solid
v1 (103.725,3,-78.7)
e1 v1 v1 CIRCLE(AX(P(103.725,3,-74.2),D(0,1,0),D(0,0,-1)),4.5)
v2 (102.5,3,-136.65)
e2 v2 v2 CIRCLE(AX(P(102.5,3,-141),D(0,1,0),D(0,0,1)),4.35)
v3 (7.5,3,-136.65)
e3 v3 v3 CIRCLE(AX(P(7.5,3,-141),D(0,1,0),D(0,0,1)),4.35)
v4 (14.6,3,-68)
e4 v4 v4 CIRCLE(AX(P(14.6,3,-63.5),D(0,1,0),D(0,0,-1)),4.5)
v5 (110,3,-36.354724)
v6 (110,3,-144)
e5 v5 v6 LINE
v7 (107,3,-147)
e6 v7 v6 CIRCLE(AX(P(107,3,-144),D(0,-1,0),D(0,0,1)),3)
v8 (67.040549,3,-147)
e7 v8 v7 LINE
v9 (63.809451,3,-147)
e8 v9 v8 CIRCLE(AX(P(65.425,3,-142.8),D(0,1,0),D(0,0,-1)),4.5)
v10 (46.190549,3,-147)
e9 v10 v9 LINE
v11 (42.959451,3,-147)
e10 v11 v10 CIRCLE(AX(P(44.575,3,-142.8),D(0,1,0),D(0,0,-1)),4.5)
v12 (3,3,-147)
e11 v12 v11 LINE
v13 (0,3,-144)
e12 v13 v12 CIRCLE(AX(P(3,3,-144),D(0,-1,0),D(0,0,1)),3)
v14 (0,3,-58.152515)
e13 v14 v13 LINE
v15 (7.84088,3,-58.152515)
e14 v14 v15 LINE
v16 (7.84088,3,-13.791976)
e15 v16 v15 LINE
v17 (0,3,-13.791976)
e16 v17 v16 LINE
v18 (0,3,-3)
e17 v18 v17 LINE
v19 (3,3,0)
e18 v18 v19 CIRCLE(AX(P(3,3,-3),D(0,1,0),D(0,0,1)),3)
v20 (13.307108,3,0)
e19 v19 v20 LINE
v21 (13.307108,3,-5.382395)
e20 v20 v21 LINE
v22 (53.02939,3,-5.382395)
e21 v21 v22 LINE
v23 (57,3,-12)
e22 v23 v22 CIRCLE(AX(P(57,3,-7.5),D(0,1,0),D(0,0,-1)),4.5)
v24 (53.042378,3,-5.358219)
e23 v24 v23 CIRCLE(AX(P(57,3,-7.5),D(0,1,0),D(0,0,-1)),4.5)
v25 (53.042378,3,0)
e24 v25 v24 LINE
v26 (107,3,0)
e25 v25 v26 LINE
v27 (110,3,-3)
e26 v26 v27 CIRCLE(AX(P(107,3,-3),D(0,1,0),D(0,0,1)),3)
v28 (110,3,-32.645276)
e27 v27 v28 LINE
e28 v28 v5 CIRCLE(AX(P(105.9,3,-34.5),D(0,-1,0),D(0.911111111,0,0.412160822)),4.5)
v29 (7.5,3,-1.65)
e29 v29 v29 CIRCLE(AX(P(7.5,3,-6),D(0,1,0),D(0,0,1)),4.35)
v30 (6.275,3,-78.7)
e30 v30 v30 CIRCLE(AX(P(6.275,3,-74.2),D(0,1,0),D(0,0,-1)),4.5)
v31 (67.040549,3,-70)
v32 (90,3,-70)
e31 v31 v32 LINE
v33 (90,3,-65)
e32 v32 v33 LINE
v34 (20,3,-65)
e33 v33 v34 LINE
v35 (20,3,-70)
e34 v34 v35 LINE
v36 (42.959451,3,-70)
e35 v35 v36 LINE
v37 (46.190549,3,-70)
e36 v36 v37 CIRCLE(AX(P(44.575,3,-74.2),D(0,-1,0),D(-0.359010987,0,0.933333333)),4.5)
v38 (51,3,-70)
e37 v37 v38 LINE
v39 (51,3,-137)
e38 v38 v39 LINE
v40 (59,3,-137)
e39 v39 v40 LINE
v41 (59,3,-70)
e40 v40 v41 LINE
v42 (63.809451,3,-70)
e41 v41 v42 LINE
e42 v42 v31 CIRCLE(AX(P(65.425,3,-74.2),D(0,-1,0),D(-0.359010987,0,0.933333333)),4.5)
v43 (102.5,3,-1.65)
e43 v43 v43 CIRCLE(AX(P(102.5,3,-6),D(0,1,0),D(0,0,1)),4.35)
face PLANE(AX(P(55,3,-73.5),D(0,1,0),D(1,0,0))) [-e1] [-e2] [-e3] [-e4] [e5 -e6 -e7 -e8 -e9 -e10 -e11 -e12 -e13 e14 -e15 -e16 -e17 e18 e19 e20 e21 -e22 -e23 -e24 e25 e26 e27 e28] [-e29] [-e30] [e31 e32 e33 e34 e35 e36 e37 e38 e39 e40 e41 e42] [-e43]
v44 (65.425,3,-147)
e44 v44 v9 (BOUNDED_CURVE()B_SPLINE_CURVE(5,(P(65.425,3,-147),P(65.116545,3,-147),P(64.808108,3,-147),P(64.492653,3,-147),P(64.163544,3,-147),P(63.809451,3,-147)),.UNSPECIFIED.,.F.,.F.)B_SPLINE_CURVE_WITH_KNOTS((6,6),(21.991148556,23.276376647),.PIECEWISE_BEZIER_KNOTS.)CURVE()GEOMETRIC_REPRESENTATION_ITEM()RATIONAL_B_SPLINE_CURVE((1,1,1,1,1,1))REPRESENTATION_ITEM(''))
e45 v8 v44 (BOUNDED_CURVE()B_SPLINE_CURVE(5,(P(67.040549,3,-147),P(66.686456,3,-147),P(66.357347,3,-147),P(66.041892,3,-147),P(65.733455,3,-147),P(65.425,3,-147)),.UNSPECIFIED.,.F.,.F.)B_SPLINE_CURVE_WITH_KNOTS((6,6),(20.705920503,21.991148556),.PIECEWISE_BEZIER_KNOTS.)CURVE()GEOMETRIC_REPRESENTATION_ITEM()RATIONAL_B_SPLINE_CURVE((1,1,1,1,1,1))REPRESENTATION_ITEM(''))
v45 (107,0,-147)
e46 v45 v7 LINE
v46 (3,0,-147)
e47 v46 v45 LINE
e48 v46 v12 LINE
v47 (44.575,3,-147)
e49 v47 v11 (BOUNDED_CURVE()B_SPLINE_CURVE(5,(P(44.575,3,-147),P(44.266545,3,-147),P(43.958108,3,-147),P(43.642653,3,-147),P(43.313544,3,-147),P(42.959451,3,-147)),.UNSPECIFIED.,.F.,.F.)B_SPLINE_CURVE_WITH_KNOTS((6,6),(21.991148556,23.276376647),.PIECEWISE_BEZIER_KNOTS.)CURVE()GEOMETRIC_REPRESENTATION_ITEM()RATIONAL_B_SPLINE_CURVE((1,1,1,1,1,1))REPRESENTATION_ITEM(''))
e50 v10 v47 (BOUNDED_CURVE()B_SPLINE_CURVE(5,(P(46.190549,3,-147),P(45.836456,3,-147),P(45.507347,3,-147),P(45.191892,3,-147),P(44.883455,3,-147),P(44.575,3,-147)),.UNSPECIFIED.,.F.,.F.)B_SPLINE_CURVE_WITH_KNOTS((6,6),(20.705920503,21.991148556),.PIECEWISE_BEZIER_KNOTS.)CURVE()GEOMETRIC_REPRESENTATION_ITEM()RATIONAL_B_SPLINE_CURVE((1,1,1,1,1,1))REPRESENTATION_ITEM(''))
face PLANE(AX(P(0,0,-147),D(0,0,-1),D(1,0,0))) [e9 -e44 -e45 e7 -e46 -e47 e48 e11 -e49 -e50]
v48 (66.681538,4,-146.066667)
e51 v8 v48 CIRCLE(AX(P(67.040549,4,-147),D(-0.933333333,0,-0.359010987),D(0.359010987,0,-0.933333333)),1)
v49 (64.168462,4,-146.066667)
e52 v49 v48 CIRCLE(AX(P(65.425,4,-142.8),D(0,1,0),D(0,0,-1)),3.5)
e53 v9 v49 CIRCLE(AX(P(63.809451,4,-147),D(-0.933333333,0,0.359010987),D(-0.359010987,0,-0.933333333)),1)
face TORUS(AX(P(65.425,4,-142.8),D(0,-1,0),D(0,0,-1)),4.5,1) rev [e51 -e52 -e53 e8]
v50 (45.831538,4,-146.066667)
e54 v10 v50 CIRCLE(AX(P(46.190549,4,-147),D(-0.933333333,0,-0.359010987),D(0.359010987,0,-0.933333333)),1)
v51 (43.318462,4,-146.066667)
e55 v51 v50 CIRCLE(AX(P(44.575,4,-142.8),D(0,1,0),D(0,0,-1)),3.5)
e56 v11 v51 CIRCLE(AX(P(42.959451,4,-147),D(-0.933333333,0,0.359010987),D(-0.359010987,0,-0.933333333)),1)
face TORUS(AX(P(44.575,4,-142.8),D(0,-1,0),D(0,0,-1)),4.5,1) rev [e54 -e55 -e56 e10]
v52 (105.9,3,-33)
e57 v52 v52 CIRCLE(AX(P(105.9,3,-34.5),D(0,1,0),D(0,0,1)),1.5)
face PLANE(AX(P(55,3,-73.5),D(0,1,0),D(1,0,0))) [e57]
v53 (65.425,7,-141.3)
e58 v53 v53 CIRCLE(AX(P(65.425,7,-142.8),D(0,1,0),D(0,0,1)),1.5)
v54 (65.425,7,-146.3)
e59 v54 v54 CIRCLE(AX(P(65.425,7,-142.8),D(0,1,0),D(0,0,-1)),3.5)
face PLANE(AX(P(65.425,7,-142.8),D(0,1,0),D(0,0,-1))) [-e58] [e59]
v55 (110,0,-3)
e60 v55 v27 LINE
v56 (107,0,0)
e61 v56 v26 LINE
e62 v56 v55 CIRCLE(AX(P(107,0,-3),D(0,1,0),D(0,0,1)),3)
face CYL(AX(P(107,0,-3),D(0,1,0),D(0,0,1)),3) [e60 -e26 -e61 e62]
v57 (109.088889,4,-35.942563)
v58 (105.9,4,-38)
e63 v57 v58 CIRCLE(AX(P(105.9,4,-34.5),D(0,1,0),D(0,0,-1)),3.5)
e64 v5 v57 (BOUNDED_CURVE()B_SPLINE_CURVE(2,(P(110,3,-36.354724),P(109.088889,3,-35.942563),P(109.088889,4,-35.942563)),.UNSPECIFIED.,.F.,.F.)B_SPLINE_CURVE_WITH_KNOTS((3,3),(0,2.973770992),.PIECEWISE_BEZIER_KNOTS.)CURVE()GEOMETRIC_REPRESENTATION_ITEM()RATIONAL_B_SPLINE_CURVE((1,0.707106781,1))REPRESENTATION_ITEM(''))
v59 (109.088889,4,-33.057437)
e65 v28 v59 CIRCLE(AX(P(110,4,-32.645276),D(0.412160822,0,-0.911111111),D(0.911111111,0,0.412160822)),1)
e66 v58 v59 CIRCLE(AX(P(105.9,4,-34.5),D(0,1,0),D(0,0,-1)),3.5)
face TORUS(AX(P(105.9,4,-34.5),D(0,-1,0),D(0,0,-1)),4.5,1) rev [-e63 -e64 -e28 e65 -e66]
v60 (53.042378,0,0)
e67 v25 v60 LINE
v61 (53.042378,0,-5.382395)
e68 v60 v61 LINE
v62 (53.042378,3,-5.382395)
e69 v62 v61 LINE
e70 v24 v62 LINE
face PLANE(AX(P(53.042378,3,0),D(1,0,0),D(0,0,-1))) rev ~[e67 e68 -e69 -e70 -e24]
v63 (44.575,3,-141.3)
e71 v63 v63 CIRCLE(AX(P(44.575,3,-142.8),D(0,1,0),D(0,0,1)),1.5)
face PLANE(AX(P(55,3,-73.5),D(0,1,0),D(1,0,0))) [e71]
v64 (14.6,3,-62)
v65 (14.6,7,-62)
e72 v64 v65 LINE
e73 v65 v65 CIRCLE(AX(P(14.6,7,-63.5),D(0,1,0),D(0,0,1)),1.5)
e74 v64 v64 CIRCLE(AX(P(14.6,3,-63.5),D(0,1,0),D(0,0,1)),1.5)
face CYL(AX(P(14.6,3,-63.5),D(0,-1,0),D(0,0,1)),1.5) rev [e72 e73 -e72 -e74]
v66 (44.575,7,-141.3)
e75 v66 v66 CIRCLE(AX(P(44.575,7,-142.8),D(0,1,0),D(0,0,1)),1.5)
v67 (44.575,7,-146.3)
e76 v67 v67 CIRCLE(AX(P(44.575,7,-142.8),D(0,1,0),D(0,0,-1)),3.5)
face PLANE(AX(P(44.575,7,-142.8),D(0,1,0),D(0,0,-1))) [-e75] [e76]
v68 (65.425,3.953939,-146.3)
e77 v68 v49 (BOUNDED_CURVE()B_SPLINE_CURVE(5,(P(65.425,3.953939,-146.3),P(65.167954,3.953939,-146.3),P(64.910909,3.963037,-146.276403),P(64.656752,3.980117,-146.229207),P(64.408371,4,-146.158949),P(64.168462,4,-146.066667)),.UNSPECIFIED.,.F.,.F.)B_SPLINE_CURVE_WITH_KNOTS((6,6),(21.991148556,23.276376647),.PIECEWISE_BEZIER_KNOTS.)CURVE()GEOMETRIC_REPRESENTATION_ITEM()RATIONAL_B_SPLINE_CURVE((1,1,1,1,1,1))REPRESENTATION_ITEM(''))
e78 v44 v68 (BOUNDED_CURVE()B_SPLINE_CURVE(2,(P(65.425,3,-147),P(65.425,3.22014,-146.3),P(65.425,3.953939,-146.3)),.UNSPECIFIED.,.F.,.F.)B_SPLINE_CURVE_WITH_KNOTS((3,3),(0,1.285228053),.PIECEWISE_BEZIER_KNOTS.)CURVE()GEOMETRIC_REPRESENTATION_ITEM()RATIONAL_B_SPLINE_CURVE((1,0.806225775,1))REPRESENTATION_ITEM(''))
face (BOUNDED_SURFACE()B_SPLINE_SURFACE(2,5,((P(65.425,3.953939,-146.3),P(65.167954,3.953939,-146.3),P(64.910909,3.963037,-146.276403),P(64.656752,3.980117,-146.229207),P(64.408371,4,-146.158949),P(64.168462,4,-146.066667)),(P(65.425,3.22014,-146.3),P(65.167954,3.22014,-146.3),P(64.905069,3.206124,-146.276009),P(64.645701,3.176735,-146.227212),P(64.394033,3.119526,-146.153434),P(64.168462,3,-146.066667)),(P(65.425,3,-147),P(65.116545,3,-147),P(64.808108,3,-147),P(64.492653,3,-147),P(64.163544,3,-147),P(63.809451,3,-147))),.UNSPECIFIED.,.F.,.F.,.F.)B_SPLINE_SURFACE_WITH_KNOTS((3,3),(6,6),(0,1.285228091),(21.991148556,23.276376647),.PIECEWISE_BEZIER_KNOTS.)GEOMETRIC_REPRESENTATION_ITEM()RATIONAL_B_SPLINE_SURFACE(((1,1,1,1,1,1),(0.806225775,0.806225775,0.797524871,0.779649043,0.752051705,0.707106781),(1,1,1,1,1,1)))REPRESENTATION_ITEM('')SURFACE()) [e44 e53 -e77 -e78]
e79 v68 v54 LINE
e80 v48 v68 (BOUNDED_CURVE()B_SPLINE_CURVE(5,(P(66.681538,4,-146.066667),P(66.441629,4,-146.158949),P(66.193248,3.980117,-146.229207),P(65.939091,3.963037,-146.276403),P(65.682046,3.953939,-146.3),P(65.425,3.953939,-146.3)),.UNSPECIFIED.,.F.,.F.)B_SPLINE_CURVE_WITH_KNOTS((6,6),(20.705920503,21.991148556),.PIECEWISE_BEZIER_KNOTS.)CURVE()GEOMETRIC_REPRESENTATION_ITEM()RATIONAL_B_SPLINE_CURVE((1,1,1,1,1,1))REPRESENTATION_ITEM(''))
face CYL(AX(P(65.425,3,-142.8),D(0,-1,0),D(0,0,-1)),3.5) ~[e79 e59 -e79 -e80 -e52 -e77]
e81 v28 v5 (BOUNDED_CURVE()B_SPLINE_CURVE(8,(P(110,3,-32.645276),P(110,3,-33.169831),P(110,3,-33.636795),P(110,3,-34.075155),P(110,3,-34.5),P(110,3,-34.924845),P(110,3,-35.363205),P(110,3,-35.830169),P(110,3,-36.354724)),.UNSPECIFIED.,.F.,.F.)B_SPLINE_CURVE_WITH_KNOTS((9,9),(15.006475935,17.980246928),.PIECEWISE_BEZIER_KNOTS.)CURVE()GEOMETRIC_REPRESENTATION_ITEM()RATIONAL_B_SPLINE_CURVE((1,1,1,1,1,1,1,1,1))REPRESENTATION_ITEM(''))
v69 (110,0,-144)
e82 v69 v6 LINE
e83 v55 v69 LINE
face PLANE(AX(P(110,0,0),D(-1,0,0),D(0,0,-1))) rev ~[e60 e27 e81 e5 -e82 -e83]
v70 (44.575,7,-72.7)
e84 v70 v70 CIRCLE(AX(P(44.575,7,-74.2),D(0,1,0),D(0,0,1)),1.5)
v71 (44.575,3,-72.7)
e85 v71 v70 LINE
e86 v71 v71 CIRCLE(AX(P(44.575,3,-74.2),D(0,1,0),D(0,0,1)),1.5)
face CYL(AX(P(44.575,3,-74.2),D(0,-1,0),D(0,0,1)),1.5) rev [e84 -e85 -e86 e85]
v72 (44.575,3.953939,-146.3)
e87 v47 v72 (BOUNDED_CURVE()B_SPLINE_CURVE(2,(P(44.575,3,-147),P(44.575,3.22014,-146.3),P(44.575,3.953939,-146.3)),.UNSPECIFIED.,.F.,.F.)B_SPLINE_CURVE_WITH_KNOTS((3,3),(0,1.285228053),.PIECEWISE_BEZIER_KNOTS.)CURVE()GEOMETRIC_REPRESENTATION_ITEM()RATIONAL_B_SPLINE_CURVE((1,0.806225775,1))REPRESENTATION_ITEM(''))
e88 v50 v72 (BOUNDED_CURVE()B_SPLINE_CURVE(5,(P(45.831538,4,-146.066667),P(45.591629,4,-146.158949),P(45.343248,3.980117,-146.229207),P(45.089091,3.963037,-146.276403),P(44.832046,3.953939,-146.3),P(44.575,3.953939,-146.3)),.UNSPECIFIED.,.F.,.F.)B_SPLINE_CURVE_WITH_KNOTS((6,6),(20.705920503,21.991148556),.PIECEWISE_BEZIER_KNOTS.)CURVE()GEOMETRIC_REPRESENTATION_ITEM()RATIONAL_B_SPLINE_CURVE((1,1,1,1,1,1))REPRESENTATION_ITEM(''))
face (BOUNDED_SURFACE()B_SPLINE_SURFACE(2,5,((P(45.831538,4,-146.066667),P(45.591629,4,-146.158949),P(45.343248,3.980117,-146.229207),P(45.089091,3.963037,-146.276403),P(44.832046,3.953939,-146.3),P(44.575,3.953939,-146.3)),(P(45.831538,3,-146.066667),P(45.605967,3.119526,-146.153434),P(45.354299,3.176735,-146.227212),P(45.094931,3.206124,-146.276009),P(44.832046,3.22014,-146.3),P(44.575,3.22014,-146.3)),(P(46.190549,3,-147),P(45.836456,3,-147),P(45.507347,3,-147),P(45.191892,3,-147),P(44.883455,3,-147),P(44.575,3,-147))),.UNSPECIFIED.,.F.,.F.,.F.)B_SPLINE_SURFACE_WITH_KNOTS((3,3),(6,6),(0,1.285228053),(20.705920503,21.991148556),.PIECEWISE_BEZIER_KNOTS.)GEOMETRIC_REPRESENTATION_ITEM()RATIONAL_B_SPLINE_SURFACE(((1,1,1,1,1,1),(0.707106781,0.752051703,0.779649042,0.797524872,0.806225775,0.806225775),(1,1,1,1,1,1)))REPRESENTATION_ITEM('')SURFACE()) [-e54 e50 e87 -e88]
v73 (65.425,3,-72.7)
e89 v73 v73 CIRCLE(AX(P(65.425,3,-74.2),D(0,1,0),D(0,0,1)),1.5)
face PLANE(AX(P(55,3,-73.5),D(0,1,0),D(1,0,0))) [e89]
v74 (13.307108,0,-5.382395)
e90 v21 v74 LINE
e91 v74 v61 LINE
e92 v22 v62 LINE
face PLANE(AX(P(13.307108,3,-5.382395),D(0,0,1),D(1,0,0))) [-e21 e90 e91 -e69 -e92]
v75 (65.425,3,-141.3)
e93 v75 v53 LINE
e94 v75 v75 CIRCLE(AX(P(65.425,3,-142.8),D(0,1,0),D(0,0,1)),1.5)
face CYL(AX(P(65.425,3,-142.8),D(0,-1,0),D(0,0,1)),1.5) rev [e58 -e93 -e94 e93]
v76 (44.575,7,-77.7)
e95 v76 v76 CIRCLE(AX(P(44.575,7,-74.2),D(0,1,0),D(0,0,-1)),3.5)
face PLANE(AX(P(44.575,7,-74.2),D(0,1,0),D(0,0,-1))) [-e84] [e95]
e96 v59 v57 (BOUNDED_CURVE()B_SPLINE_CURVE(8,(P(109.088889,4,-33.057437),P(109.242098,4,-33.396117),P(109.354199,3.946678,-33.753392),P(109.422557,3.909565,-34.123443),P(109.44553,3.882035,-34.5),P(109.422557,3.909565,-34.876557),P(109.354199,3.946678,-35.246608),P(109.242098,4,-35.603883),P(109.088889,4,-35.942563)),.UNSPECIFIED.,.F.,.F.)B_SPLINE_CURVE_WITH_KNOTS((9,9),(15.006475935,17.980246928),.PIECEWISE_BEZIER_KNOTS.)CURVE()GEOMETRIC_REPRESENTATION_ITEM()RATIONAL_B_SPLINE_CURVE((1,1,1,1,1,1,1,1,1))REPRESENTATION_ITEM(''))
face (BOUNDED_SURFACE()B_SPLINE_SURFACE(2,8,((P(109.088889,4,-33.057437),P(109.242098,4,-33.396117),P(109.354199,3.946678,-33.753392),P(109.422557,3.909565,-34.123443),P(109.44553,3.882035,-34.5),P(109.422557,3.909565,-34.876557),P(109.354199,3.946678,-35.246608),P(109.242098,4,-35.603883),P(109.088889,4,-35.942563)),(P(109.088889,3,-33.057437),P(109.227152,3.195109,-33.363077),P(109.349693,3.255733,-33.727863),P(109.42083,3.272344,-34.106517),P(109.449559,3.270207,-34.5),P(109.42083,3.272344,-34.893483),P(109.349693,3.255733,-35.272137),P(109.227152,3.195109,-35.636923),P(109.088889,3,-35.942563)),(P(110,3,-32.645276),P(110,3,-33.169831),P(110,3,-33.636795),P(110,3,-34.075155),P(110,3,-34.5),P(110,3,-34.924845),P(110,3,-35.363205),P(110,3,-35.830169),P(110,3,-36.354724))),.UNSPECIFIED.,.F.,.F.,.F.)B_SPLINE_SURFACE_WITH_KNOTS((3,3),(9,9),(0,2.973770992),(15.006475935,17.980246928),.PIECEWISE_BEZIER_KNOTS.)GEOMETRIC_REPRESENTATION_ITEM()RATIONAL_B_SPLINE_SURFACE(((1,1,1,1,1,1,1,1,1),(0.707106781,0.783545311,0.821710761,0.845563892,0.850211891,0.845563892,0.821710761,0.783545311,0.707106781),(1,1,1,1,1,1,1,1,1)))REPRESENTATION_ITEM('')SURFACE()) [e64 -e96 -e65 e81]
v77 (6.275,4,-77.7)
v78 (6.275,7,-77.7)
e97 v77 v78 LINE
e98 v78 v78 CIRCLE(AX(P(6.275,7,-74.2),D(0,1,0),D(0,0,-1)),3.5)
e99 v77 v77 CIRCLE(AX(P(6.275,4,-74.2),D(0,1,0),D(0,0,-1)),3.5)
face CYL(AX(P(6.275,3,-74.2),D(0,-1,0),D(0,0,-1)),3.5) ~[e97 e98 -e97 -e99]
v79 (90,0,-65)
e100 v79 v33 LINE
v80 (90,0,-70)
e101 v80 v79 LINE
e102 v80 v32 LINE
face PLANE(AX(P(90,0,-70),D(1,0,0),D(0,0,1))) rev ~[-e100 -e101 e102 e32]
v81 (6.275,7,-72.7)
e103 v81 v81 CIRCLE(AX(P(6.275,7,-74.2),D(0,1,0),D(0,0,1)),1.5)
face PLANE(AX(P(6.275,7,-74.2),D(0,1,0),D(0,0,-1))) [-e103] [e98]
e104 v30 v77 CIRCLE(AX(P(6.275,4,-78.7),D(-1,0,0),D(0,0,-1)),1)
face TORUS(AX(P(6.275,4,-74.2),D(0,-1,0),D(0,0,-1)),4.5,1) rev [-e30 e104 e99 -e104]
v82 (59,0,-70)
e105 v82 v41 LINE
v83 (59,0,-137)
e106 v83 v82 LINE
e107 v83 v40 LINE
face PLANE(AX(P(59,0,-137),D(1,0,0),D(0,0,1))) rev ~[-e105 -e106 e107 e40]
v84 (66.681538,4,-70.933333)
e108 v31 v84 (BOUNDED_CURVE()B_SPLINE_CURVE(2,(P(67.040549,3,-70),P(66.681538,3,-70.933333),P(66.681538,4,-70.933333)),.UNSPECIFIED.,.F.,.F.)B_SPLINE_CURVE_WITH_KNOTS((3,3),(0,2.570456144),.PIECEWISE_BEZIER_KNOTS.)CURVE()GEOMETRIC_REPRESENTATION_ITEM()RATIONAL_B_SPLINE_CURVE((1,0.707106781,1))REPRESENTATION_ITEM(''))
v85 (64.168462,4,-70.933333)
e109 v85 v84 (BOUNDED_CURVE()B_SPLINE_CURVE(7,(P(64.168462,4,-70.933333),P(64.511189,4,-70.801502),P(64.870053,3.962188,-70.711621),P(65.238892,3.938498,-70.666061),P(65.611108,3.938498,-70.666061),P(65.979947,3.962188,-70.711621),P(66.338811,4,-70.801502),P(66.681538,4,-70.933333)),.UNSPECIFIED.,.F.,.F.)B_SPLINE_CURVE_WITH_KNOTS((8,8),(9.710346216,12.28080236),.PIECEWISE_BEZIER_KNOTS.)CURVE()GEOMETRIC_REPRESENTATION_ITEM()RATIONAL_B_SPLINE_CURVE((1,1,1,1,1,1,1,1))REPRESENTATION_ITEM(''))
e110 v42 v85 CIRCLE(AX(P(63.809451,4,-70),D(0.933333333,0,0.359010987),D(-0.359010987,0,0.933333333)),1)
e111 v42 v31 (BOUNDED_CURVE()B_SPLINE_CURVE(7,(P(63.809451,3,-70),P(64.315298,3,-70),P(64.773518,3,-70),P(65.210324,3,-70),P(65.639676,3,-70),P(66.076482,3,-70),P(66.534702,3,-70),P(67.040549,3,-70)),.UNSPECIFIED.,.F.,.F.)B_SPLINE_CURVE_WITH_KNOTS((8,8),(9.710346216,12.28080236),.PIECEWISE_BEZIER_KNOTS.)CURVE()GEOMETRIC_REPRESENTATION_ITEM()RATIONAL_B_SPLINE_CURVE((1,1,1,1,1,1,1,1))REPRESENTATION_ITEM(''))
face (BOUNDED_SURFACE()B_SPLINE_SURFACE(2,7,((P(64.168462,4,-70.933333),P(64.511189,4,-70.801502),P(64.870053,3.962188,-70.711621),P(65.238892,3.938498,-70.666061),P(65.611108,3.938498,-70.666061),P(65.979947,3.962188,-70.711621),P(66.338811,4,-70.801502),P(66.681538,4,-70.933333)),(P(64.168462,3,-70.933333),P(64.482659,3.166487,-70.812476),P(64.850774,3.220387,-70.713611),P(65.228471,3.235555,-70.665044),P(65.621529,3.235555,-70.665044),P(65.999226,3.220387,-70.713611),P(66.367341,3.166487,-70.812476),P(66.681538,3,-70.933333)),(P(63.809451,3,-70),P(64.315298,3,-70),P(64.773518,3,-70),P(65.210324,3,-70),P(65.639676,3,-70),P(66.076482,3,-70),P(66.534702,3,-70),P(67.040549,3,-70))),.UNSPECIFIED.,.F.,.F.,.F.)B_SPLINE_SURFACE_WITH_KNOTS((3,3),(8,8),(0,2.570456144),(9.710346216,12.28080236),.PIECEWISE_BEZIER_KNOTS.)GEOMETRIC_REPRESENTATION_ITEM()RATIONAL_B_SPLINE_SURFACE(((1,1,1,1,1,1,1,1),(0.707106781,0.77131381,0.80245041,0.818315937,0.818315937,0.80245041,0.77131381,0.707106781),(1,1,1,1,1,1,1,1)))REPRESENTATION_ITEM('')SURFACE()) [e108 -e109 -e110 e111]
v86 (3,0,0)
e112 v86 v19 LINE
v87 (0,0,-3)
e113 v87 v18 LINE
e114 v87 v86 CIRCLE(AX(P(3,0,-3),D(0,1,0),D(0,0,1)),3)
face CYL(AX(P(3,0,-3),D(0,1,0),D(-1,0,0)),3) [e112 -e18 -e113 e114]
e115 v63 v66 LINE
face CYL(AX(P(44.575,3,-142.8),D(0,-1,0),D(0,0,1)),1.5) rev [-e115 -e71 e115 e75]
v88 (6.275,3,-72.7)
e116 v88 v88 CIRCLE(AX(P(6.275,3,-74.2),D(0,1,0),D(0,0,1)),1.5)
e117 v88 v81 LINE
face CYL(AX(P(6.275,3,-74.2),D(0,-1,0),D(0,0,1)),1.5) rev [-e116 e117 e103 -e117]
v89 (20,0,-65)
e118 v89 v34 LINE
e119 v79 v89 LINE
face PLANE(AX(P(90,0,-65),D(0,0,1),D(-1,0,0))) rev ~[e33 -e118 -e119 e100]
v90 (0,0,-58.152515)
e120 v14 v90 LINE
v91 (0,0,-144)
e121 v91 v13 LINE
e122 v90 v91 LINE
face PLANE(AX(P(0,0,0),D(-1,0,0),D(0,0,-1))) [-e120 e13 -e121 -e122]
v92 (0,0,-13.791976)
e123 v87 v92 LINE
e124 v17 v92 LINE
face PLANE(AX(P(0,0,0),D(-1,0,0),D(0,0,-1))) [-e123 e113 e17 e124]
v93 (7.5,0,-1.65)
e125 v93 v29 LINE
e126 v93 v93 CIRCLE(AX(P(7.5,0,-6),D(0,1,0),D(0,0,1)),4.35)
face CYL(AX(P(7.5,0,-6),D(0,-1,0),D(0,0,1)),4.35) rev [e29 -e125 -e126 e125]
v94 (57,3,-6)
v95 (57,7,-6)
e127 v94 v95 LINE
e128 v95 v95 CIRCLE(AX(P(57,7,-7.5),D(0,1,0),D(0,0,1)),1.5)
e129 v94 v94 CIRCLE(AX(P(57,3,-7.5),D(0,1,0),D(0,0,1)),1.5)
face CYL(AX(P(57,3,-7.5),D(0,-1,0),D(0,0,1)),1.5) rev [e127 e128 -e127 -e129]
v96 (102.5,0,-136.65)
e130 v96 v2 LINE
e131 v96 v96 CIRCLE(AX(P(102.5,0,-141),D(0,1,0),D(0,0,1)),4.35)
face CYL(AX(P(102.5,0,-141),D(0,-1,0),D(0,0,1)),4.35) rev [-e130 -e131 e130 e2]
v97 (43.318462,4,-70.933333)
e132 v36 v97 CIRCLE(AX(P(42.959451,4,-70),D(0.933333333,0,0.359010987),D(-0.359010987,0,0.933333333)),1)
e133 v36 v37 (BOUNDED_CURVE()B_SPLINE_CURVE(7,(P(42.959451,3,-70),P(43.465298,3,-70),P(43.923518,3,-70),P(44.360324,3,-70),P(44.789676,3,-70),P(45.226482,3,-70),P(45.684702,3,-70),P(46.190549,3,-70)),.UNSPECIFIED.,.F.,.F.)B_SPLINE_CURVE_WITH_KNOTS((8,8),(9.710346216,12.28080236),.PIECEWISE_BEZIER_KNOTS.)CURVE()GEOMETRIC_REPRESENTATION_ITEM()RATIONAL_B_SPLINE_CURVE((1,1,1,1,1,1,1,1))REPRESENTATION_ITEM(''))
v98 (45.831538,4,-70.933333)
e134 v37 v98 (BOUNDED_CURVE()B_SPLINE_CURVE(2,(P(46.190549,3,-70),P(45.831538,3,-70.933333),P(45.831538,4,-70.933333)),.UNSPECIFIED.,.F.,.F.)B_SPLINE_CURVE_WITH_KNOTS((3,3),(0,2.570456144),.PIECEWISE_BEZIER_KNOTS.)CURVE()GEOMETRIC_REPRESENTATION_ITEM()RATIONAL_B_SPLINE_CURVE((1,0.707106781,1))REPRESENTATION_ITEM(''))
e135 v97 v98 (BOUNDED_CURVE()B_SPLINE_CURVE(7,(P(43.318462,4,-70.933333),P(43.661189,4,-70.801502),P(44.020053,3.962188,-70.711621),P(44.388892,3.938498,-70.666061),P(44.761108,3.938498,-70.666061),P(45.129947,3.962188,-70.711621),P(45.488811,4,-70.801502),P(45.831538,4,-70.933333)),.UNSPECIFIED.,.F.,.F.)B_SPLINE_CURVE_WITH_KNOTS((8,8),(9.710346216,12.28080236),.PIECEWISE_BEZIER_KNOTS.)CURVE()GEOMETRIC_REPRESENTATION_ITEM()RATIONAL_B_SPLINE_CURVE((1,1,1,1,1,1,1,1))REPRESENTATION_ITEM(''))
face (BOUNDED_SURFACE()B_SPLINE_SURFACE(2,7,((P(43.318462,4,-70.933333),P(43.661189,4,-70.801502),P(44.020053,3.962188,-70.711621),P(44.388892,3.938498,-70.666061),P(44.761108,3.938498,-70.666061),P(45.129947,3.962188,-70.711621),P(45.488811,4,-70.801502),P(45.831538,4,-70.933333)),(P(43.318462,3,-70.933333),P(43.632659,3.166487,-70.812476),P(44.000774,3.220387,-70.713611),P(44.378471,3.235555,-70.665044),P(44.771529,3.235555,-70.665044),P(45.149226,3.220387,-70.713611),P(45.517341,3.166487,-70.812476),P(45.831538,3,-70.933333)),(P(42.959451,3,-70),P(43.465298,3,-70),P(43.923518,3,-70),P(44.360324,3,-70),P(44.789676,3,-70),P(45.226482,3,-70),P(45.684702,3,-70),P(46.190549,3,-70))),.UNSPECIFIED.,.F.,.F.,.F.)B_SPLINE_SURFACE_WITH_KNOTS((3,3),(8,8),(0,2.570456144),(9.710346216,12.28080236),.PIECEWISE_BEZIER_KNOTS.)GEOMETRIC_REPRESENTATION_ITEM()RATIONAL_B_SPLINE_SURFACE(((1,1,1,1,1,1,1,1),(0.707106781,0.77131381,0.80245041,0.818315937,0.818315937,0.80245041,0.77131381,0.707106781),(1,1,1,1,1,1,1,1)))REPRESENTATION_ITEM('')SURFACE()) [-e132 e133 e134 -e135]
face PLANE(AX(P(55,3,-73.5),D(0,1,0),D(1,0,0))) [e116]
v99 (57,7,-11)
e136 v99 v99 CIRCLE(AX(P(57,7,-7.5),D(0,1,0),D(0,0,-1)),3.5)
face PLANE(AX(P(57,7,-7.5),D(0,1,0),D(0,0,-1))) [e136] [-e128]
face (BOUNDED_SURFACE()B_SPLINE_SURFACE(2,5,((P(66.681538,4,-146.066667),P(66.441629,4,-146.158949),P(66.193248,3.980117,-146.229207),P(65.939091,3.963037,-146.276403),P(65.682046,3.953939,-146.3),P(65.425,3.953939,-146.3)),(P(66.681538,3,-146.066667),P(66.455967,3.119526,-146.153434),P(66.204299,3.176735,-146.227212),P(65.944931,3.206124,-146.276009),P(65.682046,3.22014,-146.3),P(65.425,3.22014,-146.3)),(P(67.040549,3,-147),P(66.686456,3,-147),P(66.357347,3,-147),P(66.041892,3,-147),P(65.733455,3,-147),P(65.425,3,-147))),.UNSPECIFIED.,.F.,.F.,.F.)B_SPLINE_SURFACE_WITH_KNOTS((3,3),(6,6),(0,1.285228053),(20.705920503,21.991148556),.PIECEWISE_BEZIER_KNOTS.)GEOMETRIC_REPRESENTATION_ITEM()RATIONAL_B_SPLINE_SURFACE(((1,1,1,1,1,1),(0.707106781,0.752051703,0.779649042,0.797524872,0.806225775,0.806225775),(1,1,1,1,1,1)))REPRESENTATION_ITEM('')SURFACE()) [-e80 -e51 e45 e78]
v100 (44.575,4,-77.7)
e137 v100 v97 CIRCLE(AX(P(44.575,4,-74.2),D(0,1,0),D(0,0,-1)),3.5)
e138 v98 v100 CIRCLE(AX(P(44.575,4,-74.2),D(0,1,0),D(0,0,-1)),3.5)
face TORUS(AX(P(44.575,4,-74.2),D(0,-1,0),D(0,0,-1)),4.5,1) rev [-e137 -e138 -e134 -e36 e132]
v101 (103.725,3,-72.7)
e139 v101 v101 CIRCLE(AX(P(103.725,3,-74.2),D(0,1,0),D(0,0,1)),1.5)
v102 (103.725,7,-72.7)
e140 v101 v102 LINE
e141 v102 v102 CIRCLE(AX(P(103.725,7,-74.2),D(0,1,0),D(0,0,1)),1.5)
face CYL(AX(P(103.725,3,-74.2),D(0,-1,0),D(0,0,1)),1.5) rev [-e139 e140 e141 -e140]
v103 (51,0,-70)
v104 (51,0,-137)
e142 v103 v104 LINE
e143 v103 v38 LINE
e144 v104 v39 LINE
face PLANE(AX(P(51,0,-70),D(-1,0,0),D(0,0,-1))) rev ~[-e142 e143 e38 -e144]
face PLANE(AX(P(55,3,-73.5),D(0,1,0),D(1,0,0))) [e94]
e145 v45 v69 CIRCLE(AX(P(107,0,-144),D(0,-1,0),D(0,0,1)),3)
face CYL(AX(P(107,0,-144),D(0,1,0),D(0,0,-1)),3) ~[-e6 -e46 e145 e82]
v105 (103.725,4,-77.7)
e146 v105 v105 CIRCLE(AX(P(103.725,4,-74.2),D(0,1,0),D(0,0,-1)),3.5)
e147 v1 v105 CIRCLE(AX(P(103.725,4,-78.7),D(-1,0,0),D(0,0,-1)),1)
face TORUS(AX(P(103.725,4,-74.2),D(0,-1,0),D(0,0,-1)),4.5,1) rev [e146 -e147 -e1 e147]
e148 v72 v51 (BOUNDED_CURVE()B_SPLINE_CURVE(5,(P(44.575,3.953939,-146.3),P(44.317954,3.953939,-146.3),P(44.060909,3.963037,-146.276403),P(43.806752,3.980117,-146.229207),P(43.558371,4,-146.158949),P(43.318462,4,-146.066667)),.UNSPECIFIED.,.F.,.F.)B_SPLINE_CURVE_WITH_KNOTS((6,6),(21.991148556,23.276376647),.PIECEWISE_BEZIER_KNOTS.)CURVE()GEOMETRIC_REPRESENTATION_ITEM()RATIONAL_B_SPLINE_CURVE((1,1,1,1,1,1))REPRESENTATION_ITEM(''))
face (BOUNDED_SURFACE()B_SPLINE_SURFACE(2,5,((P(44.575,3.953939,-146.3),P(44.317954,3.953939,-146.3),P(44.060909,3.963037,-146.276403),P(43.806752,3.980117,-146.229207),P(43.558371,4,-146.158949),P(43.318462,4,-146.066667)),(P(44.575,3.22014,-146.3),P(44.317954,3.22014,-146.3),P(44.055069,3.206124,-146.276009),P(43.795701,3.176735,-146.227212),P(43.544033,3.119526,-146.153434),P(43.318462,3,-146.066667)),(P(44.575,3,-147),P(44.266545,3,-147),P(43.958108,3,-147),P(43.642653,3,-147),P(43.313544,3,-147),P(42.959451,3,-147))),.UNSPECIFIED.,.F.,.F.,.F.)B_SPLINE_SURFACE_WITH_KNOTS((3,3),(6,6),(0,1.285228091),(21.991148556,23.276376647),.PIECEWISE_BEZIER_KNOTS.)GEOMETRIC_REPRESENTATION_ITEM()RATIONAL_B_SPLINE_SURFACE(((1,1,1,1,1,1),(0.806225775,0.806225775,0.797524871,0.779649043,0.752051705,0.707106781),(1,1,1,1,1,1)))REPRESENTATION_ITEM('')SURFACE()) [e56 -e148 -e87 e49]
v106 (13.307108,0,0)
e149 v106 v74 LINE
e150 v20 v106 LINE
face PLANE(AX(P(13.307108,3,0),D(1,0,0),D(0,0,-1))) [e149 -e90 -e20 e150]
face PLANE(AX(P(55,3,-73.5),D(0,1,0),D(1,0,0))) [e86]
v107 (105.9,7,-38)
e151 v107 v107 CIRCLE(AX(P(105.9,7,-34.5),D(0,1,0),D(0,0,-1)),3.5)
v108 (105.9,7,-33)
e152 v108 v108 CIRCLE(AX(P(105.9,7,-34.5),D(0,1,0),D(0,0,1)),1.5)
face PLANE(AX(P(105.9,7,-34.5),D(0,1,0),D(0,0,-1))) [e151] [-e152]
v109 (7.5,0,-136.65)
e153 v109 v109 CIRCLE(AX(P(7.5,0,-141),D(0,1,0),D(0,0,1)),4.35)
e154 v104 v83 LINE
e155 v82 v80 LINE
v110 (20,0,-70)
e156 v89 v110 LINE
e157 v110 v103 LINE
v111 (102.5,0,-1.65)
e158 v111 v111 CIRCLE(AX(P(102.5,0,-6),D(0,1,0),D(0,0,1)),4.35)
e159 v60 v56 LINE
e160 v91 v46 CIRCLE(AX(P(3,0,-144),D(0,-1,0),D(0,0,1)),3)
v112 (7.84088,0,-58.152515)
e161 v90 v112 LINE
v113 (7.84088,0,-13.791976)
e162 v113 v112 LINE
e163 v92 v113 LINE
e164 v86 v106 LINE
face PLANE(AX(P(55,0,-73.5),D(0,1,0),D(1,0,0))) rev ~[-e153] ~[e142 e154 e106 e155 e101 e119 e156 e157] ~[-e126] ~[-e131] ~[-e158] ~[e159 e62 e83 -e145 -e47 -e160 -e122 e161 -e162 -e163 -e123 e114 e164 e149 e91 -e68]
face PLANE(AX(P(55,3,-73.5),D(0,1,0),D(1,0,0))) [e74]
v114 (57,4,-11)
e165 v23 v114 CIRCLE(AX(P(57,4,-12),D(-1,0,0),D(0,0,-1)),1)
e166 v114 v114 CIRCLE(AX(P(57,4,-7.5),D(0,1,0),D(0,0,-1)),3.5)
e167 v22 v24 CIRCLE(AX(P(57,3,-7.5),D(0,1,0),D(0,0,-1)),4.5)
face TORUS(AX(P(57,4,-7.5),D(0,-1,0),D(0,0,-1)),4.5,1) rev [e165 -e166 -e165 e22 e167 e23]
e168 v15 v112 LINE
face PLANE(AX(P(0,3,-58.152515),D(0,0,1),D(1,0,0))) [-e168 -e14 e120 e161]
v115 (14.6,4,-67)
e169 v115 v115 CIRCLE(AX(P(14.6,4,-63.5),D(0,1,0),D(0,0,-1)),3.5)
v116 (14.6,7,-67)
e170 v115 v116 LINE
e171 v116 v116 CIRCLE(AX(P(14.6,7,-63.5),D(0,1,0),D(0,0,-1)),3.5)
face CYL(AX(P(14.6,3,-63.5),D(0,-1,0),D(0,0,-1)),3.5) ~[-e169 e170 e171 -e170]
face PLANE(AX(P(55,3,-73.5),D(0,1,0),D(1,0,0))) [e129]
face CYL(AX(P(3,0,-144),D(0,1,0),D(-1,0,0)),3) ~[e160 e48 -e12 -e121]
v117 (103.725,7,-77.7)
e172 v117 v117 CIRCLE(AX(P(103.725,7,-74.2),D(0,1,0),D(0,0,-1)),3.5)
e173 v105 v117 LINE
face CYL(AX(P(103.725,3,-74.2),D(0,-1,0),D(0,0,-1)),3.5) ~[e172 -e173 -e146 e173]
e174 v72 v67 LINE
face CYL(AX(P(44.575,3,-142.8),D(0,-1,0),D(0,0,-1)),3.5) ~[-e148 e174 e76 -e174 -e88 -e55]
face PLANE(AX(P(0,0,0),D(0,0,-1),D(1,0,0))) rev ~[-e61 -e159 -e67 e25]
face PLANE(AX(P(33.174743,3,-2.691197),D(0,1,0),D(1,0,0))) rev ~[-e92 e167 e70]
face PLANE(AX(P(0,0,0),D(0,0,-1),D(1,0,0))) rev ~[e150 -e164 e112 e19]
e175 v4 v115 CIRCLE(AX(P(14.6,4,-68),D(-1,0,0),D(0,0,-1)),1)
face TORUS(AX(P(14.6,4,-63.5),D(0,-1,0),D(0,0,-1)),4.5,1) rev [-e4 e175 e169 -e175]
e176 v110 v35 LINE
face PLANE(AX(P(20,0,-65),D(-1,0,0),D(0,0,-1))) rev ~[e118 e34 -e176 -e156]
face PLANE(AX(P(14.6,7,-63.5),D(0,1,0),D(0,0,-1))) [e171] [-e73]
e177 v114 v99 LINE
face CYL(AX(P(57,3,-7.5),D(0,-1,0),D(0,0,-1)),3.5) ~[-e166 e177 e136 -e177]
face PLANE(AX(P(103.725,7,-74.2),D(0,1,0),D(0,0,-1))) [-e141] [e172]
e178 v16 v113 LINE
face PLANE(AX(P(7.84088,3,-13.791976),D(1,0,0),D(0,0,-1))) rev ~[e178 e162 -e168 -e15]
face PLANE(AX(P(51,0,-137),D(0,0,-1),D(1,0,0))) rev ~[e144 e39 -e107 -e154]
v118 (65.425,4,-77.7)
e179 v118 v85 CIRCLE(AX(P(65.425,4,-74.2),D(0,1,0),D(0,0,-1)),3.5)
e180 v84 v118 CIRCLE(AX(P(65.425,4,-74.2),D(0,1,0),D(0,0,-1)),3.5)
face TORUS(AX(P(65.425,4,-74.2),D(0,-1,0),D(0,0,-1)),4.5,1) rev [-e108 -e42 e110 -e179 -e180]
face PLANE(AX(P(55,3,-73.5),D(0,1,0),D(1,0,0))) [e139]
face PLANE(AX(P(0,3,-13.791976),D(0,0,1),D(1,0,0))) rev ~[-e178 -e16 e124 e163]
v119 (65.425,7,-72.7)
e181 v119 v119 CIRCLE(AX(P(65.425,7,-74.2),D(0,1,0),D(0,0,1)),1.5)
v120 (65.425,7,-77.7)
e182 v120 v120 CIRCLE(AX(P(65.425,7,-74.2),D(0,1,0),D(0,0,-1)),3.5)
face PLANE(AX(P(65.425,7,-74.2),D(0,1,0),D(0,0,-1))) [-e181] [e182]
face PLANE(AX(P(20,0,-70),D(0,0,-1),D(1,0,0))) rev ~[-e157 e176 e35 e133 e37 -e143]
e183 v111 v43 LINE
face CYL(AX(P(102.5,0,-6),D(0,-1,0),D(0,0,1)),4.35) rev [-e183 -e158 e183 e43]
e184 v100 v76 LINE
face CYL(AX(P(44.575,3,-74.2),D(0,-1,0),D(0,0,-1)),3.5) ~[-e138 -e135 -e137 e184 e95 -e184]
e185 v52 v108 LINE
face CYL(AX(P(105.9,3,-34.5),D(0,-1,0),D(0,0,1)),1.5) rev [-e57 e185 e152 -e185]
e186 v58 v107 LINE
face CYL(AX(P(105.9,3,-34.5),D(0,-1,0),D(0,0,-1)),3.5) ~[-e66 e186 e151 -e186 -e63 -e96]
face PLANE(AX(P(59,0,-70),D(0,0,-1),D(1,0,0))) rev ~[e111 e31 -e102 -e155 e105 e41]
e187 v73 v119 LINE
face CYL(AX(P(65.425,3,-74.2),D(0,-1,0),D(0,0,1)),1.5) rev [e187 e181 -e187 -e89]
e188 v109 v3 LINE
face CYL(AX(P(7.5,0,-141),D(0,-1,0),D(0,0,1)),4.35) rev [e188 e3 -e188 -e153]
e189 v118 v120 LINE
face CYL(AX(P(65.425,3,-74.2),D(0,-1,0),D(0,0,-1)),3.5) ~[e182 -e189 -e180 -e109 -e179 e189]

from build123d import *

# Parameters (mm, degrees)
CROQUIS1_W              = 110
CROQUIS1_H              = 147
CROQUIS1_R              = 4.35
SALIENTE_EXTRUIR1_DEPTH = 3
CROQUIS3_R              = 3.5
CROQUIS3_R_2            = 1.5
SALIENTE_EXTRUIR2_DEPTH = 4
REDONDEO1_R             = 3
REDONDEO2_R             = 1
CROQUIS4_W              = 39.735269825
CROQUIS4_H              = 5.382394585
CROQUIS4_W_2            = 7.840880328
CROQUIS4_H_2            = 44.360539328
CORTAR_EXTRUIR1_DEPTH   = 184.643676864


with BuildPart() as part:
    # Croquis1 → Saliente-Extruir1 (new body)
    with BuildSketch(Plane(origin=(0, 0, 0), x_dir=(1, 0, 0), z_dir=(0, 1, 0))):
        with Locations((55, 73.5)):
            Rectangle(CROQUIS1_W, CROQUIS1_H)
        with Locations(Location((7.5, 141, 0), (0, 0, 270))):
            Circle(CROQUIS1_R, mode=Mode.SUBTRACT)
        with Locations(Location((102.5, 141, 0), (0, 0, 270))):
            Circle(CROQUIS1_R, mode=Mode.SUBTRACT)
        with Locations(Location((102.5, 6, 0), (0, 0, 270))):
            Circle(CROQUIS1_R, mode=Mode.SUBTRACT)
        with Locations(Location((7.5, 6, 0), (0, 0, 270))):
            Circle(CROQUIS1_R, mode=Mode.SUBTRACT)
        Polygon((90, 65), (20, 65), (20, 70), (51, 70), (51, 137), (59, 137), (59, 70), (90, 70), align=None, mode=Mode.SUBTRACT)
    extrude(amount=SALIENTE_EXTRUIR1_DEPTH)

    # Croquis3 → Saliente-Extruir2 (add)
    # profile 1 of 9: a face of its own
    with BuildSketch(Plane(origin=(0, 3, 0), x_dir=(1, 0, 0), z_dir=(0, 1, 0))):
        with Locations(Location((14.6, 63.5, 0), (0, 0, 90))):
            Circle(CROQUIS3_R)
        with Locations(Location((14.6, 63.5, 0), (0, 0, 270))):
            Circle(CROQUIS3_R_2, mode=Mode.SUBTRACT)
    # profile 2 of 9: a face of its own
    with BuildSketch(Plane(origin=(0, 3, 0), x_dir=(1, 0, 0), z_dir=(0, 1, 0))):
        with Locations(Location((6.275, 74.2, 0), (0, 0, 90))):
            Circle(CROQUIS3_R)
        with Locations(Location((6.275, 74.2, 0), (0, 0, 270))):
            Circle(CROQUIS3_R_2, mode=Mode.SUBTRACT)
    # profile 3 of 9: a face of its own
    with BuildSketch(Plane(origin=(0, 3, 0), x_dir=(1, 0, 0), z_dir=(0, 1, 0))):
        with Locations(Location((105.9, 34.5, 0), (0, 0, 90))):
            Circle(CROQUIS3_R)
        with Locations(Location((105.9, 34.5, 0), (0, 0, 270))):
            Circle(CROQUIS3_R_2, mode=Mode.SUBTRACT)
    # profile 4 of 9: a face of its own
    with BuildSketch(Plane(origin=(0, 3, 0), x_dir=(1, 0, 0), z_dir=(0, 1, 0))):
        with Locations(Location((103.725, 74.2, 0), (0, 0, 90))):
            Circle(CROQUIS3_R)
        with Locations(Location((103.725, 74.2, 0), (0, 0, 270))):
            Circle(CROQUIS3_R_2, mode=Mode.SUBTRACT)
    # profile 5 of 9: a face of its own
    with BuildSketch(Plane(origin=(0, 3, 0), x_dir=(1, 0, 0), z_dir=(0, 1, 0))):
        with Locations(Location((44.575, 74.2, 0), (0, 0, 90))):
            Circle(CROQUIS3_R)
        with Locations(Location((44.575, 74.2, 0), (0, 0, 270))):
            Circle(CROQUIS3_R_2, mode=Mode.SUBTRACT)
    # profile 6 of 9: a face of its own
    with BuildSketch(Plane(origin=(0, 3, 0), x_dir=(1, 0, 0), z_dir=(0, 1, 0))):
        with Locations(Location((44.575, 142.8, 0), (0, 0, 90))):
            Circle(CROQUIS3_R)
        with Locations(Location((44.575, 142.8, 0), (0, 0, 270))):
            Circle(CROQUIS3_R_2, mode=Mode.SUBTRACT)
    # profile 7 of 9: a face of its own
    with BuildSketch(Plane(origin=(0, 3, 0), x_dir=(1, 0, 0), z_dir=(0, 1, 0))):
        with Locations(Location((65.425, 74.2, 0), (0, 0, 90))):
            Circle(CROQUIS3_R)
        with Locations(Location((65.425, 74.2, 0), (0, 0, 270))):
            Circle(CROQUIS3_R_2, mode=Mode.SUBTRACT)
    # profile 8 of 9: a face of its own
    with BuildSketch(Plane(origin=(0, 3, 0), x_dir=(1, 0, 0), z_dir=(0, 1, 0))):
        with Locations(Location((65.425, 142.8, 0), (0, 0, 90))):
            Circle(CROQUIS3_R)
        with Locations(Location((65.425, 142.8, 0), (0, 0, 270))):
            Circle(CROQUIS3_R_2, mode=Mode.SUBTRACT)
    # profile 9 of 9: a face of its own
    with BuildSketch(Plane(origin=(0, 3, 0), x_dir=(1, 0, 0), z_dir=(0, 1, 0))):
        with Locations(Location((57, 7.5, 0), (0, 0, 90))):
            Circle(CROQUIS3_R)
        with Locations(Location((57, 7.5, 0), (0, 0, 270))):
            Circle(CROQUIS3_R_2, mode=Mode.SUBTRACT)
    extrude(amount=SALIENTE_EXTRUIR2_DEPTH)

    # Redondeo1
    redondeo1_edges = [part.edges().sort_by_distance(p)[0] for p in [
        (0, 1.5, -147),
        (110, 1.5, -147),
        (110, 1.5, 0),
        (0, 1.5, 0),
    ]]
    fillet(redondeo1_edges, radius=REDONDEO1_R)

    # Redondeo2
    redondeo2_edges = [part.edges().sort_by_distance(p)[0] for p in [
        (65.425, 3, -70.7),
        (65.425, 3, -139.3),
        (57, 3, -4),
        (14.6, 3, -60),
        (6.275, 3, -70.7),
        (105.9, 3, -31),
        (103.725, 3, -70.7),
        (44.575, 3, -70.7),
        (44.575, 3, -139.3),
    ]]
    fillet(redondeo2_edges, radius=REDONDEO2_R)

    # Croquis4 → Cortar-Extruir1 (cut, through all)
    with BuildSketch(Plane(origin=(0, 3, 0), x_dir=(1, 0, 0), z_dir=(0, 1, 0))):
        with Locations((33.174742835, 2.691197293)):
            Rectangle(CROQUIS4_W, CROQUIS4_H)
        with Locations((3.920440164, 35.972245165)):
            Rectangle(CROQUIS4_W_2, CROQUIS4_H_2)
    extrude(amount=-CORTAR_EXTRUIR1_DEPTH, mode=Mode.SUBTRACT)


solid = part.part
